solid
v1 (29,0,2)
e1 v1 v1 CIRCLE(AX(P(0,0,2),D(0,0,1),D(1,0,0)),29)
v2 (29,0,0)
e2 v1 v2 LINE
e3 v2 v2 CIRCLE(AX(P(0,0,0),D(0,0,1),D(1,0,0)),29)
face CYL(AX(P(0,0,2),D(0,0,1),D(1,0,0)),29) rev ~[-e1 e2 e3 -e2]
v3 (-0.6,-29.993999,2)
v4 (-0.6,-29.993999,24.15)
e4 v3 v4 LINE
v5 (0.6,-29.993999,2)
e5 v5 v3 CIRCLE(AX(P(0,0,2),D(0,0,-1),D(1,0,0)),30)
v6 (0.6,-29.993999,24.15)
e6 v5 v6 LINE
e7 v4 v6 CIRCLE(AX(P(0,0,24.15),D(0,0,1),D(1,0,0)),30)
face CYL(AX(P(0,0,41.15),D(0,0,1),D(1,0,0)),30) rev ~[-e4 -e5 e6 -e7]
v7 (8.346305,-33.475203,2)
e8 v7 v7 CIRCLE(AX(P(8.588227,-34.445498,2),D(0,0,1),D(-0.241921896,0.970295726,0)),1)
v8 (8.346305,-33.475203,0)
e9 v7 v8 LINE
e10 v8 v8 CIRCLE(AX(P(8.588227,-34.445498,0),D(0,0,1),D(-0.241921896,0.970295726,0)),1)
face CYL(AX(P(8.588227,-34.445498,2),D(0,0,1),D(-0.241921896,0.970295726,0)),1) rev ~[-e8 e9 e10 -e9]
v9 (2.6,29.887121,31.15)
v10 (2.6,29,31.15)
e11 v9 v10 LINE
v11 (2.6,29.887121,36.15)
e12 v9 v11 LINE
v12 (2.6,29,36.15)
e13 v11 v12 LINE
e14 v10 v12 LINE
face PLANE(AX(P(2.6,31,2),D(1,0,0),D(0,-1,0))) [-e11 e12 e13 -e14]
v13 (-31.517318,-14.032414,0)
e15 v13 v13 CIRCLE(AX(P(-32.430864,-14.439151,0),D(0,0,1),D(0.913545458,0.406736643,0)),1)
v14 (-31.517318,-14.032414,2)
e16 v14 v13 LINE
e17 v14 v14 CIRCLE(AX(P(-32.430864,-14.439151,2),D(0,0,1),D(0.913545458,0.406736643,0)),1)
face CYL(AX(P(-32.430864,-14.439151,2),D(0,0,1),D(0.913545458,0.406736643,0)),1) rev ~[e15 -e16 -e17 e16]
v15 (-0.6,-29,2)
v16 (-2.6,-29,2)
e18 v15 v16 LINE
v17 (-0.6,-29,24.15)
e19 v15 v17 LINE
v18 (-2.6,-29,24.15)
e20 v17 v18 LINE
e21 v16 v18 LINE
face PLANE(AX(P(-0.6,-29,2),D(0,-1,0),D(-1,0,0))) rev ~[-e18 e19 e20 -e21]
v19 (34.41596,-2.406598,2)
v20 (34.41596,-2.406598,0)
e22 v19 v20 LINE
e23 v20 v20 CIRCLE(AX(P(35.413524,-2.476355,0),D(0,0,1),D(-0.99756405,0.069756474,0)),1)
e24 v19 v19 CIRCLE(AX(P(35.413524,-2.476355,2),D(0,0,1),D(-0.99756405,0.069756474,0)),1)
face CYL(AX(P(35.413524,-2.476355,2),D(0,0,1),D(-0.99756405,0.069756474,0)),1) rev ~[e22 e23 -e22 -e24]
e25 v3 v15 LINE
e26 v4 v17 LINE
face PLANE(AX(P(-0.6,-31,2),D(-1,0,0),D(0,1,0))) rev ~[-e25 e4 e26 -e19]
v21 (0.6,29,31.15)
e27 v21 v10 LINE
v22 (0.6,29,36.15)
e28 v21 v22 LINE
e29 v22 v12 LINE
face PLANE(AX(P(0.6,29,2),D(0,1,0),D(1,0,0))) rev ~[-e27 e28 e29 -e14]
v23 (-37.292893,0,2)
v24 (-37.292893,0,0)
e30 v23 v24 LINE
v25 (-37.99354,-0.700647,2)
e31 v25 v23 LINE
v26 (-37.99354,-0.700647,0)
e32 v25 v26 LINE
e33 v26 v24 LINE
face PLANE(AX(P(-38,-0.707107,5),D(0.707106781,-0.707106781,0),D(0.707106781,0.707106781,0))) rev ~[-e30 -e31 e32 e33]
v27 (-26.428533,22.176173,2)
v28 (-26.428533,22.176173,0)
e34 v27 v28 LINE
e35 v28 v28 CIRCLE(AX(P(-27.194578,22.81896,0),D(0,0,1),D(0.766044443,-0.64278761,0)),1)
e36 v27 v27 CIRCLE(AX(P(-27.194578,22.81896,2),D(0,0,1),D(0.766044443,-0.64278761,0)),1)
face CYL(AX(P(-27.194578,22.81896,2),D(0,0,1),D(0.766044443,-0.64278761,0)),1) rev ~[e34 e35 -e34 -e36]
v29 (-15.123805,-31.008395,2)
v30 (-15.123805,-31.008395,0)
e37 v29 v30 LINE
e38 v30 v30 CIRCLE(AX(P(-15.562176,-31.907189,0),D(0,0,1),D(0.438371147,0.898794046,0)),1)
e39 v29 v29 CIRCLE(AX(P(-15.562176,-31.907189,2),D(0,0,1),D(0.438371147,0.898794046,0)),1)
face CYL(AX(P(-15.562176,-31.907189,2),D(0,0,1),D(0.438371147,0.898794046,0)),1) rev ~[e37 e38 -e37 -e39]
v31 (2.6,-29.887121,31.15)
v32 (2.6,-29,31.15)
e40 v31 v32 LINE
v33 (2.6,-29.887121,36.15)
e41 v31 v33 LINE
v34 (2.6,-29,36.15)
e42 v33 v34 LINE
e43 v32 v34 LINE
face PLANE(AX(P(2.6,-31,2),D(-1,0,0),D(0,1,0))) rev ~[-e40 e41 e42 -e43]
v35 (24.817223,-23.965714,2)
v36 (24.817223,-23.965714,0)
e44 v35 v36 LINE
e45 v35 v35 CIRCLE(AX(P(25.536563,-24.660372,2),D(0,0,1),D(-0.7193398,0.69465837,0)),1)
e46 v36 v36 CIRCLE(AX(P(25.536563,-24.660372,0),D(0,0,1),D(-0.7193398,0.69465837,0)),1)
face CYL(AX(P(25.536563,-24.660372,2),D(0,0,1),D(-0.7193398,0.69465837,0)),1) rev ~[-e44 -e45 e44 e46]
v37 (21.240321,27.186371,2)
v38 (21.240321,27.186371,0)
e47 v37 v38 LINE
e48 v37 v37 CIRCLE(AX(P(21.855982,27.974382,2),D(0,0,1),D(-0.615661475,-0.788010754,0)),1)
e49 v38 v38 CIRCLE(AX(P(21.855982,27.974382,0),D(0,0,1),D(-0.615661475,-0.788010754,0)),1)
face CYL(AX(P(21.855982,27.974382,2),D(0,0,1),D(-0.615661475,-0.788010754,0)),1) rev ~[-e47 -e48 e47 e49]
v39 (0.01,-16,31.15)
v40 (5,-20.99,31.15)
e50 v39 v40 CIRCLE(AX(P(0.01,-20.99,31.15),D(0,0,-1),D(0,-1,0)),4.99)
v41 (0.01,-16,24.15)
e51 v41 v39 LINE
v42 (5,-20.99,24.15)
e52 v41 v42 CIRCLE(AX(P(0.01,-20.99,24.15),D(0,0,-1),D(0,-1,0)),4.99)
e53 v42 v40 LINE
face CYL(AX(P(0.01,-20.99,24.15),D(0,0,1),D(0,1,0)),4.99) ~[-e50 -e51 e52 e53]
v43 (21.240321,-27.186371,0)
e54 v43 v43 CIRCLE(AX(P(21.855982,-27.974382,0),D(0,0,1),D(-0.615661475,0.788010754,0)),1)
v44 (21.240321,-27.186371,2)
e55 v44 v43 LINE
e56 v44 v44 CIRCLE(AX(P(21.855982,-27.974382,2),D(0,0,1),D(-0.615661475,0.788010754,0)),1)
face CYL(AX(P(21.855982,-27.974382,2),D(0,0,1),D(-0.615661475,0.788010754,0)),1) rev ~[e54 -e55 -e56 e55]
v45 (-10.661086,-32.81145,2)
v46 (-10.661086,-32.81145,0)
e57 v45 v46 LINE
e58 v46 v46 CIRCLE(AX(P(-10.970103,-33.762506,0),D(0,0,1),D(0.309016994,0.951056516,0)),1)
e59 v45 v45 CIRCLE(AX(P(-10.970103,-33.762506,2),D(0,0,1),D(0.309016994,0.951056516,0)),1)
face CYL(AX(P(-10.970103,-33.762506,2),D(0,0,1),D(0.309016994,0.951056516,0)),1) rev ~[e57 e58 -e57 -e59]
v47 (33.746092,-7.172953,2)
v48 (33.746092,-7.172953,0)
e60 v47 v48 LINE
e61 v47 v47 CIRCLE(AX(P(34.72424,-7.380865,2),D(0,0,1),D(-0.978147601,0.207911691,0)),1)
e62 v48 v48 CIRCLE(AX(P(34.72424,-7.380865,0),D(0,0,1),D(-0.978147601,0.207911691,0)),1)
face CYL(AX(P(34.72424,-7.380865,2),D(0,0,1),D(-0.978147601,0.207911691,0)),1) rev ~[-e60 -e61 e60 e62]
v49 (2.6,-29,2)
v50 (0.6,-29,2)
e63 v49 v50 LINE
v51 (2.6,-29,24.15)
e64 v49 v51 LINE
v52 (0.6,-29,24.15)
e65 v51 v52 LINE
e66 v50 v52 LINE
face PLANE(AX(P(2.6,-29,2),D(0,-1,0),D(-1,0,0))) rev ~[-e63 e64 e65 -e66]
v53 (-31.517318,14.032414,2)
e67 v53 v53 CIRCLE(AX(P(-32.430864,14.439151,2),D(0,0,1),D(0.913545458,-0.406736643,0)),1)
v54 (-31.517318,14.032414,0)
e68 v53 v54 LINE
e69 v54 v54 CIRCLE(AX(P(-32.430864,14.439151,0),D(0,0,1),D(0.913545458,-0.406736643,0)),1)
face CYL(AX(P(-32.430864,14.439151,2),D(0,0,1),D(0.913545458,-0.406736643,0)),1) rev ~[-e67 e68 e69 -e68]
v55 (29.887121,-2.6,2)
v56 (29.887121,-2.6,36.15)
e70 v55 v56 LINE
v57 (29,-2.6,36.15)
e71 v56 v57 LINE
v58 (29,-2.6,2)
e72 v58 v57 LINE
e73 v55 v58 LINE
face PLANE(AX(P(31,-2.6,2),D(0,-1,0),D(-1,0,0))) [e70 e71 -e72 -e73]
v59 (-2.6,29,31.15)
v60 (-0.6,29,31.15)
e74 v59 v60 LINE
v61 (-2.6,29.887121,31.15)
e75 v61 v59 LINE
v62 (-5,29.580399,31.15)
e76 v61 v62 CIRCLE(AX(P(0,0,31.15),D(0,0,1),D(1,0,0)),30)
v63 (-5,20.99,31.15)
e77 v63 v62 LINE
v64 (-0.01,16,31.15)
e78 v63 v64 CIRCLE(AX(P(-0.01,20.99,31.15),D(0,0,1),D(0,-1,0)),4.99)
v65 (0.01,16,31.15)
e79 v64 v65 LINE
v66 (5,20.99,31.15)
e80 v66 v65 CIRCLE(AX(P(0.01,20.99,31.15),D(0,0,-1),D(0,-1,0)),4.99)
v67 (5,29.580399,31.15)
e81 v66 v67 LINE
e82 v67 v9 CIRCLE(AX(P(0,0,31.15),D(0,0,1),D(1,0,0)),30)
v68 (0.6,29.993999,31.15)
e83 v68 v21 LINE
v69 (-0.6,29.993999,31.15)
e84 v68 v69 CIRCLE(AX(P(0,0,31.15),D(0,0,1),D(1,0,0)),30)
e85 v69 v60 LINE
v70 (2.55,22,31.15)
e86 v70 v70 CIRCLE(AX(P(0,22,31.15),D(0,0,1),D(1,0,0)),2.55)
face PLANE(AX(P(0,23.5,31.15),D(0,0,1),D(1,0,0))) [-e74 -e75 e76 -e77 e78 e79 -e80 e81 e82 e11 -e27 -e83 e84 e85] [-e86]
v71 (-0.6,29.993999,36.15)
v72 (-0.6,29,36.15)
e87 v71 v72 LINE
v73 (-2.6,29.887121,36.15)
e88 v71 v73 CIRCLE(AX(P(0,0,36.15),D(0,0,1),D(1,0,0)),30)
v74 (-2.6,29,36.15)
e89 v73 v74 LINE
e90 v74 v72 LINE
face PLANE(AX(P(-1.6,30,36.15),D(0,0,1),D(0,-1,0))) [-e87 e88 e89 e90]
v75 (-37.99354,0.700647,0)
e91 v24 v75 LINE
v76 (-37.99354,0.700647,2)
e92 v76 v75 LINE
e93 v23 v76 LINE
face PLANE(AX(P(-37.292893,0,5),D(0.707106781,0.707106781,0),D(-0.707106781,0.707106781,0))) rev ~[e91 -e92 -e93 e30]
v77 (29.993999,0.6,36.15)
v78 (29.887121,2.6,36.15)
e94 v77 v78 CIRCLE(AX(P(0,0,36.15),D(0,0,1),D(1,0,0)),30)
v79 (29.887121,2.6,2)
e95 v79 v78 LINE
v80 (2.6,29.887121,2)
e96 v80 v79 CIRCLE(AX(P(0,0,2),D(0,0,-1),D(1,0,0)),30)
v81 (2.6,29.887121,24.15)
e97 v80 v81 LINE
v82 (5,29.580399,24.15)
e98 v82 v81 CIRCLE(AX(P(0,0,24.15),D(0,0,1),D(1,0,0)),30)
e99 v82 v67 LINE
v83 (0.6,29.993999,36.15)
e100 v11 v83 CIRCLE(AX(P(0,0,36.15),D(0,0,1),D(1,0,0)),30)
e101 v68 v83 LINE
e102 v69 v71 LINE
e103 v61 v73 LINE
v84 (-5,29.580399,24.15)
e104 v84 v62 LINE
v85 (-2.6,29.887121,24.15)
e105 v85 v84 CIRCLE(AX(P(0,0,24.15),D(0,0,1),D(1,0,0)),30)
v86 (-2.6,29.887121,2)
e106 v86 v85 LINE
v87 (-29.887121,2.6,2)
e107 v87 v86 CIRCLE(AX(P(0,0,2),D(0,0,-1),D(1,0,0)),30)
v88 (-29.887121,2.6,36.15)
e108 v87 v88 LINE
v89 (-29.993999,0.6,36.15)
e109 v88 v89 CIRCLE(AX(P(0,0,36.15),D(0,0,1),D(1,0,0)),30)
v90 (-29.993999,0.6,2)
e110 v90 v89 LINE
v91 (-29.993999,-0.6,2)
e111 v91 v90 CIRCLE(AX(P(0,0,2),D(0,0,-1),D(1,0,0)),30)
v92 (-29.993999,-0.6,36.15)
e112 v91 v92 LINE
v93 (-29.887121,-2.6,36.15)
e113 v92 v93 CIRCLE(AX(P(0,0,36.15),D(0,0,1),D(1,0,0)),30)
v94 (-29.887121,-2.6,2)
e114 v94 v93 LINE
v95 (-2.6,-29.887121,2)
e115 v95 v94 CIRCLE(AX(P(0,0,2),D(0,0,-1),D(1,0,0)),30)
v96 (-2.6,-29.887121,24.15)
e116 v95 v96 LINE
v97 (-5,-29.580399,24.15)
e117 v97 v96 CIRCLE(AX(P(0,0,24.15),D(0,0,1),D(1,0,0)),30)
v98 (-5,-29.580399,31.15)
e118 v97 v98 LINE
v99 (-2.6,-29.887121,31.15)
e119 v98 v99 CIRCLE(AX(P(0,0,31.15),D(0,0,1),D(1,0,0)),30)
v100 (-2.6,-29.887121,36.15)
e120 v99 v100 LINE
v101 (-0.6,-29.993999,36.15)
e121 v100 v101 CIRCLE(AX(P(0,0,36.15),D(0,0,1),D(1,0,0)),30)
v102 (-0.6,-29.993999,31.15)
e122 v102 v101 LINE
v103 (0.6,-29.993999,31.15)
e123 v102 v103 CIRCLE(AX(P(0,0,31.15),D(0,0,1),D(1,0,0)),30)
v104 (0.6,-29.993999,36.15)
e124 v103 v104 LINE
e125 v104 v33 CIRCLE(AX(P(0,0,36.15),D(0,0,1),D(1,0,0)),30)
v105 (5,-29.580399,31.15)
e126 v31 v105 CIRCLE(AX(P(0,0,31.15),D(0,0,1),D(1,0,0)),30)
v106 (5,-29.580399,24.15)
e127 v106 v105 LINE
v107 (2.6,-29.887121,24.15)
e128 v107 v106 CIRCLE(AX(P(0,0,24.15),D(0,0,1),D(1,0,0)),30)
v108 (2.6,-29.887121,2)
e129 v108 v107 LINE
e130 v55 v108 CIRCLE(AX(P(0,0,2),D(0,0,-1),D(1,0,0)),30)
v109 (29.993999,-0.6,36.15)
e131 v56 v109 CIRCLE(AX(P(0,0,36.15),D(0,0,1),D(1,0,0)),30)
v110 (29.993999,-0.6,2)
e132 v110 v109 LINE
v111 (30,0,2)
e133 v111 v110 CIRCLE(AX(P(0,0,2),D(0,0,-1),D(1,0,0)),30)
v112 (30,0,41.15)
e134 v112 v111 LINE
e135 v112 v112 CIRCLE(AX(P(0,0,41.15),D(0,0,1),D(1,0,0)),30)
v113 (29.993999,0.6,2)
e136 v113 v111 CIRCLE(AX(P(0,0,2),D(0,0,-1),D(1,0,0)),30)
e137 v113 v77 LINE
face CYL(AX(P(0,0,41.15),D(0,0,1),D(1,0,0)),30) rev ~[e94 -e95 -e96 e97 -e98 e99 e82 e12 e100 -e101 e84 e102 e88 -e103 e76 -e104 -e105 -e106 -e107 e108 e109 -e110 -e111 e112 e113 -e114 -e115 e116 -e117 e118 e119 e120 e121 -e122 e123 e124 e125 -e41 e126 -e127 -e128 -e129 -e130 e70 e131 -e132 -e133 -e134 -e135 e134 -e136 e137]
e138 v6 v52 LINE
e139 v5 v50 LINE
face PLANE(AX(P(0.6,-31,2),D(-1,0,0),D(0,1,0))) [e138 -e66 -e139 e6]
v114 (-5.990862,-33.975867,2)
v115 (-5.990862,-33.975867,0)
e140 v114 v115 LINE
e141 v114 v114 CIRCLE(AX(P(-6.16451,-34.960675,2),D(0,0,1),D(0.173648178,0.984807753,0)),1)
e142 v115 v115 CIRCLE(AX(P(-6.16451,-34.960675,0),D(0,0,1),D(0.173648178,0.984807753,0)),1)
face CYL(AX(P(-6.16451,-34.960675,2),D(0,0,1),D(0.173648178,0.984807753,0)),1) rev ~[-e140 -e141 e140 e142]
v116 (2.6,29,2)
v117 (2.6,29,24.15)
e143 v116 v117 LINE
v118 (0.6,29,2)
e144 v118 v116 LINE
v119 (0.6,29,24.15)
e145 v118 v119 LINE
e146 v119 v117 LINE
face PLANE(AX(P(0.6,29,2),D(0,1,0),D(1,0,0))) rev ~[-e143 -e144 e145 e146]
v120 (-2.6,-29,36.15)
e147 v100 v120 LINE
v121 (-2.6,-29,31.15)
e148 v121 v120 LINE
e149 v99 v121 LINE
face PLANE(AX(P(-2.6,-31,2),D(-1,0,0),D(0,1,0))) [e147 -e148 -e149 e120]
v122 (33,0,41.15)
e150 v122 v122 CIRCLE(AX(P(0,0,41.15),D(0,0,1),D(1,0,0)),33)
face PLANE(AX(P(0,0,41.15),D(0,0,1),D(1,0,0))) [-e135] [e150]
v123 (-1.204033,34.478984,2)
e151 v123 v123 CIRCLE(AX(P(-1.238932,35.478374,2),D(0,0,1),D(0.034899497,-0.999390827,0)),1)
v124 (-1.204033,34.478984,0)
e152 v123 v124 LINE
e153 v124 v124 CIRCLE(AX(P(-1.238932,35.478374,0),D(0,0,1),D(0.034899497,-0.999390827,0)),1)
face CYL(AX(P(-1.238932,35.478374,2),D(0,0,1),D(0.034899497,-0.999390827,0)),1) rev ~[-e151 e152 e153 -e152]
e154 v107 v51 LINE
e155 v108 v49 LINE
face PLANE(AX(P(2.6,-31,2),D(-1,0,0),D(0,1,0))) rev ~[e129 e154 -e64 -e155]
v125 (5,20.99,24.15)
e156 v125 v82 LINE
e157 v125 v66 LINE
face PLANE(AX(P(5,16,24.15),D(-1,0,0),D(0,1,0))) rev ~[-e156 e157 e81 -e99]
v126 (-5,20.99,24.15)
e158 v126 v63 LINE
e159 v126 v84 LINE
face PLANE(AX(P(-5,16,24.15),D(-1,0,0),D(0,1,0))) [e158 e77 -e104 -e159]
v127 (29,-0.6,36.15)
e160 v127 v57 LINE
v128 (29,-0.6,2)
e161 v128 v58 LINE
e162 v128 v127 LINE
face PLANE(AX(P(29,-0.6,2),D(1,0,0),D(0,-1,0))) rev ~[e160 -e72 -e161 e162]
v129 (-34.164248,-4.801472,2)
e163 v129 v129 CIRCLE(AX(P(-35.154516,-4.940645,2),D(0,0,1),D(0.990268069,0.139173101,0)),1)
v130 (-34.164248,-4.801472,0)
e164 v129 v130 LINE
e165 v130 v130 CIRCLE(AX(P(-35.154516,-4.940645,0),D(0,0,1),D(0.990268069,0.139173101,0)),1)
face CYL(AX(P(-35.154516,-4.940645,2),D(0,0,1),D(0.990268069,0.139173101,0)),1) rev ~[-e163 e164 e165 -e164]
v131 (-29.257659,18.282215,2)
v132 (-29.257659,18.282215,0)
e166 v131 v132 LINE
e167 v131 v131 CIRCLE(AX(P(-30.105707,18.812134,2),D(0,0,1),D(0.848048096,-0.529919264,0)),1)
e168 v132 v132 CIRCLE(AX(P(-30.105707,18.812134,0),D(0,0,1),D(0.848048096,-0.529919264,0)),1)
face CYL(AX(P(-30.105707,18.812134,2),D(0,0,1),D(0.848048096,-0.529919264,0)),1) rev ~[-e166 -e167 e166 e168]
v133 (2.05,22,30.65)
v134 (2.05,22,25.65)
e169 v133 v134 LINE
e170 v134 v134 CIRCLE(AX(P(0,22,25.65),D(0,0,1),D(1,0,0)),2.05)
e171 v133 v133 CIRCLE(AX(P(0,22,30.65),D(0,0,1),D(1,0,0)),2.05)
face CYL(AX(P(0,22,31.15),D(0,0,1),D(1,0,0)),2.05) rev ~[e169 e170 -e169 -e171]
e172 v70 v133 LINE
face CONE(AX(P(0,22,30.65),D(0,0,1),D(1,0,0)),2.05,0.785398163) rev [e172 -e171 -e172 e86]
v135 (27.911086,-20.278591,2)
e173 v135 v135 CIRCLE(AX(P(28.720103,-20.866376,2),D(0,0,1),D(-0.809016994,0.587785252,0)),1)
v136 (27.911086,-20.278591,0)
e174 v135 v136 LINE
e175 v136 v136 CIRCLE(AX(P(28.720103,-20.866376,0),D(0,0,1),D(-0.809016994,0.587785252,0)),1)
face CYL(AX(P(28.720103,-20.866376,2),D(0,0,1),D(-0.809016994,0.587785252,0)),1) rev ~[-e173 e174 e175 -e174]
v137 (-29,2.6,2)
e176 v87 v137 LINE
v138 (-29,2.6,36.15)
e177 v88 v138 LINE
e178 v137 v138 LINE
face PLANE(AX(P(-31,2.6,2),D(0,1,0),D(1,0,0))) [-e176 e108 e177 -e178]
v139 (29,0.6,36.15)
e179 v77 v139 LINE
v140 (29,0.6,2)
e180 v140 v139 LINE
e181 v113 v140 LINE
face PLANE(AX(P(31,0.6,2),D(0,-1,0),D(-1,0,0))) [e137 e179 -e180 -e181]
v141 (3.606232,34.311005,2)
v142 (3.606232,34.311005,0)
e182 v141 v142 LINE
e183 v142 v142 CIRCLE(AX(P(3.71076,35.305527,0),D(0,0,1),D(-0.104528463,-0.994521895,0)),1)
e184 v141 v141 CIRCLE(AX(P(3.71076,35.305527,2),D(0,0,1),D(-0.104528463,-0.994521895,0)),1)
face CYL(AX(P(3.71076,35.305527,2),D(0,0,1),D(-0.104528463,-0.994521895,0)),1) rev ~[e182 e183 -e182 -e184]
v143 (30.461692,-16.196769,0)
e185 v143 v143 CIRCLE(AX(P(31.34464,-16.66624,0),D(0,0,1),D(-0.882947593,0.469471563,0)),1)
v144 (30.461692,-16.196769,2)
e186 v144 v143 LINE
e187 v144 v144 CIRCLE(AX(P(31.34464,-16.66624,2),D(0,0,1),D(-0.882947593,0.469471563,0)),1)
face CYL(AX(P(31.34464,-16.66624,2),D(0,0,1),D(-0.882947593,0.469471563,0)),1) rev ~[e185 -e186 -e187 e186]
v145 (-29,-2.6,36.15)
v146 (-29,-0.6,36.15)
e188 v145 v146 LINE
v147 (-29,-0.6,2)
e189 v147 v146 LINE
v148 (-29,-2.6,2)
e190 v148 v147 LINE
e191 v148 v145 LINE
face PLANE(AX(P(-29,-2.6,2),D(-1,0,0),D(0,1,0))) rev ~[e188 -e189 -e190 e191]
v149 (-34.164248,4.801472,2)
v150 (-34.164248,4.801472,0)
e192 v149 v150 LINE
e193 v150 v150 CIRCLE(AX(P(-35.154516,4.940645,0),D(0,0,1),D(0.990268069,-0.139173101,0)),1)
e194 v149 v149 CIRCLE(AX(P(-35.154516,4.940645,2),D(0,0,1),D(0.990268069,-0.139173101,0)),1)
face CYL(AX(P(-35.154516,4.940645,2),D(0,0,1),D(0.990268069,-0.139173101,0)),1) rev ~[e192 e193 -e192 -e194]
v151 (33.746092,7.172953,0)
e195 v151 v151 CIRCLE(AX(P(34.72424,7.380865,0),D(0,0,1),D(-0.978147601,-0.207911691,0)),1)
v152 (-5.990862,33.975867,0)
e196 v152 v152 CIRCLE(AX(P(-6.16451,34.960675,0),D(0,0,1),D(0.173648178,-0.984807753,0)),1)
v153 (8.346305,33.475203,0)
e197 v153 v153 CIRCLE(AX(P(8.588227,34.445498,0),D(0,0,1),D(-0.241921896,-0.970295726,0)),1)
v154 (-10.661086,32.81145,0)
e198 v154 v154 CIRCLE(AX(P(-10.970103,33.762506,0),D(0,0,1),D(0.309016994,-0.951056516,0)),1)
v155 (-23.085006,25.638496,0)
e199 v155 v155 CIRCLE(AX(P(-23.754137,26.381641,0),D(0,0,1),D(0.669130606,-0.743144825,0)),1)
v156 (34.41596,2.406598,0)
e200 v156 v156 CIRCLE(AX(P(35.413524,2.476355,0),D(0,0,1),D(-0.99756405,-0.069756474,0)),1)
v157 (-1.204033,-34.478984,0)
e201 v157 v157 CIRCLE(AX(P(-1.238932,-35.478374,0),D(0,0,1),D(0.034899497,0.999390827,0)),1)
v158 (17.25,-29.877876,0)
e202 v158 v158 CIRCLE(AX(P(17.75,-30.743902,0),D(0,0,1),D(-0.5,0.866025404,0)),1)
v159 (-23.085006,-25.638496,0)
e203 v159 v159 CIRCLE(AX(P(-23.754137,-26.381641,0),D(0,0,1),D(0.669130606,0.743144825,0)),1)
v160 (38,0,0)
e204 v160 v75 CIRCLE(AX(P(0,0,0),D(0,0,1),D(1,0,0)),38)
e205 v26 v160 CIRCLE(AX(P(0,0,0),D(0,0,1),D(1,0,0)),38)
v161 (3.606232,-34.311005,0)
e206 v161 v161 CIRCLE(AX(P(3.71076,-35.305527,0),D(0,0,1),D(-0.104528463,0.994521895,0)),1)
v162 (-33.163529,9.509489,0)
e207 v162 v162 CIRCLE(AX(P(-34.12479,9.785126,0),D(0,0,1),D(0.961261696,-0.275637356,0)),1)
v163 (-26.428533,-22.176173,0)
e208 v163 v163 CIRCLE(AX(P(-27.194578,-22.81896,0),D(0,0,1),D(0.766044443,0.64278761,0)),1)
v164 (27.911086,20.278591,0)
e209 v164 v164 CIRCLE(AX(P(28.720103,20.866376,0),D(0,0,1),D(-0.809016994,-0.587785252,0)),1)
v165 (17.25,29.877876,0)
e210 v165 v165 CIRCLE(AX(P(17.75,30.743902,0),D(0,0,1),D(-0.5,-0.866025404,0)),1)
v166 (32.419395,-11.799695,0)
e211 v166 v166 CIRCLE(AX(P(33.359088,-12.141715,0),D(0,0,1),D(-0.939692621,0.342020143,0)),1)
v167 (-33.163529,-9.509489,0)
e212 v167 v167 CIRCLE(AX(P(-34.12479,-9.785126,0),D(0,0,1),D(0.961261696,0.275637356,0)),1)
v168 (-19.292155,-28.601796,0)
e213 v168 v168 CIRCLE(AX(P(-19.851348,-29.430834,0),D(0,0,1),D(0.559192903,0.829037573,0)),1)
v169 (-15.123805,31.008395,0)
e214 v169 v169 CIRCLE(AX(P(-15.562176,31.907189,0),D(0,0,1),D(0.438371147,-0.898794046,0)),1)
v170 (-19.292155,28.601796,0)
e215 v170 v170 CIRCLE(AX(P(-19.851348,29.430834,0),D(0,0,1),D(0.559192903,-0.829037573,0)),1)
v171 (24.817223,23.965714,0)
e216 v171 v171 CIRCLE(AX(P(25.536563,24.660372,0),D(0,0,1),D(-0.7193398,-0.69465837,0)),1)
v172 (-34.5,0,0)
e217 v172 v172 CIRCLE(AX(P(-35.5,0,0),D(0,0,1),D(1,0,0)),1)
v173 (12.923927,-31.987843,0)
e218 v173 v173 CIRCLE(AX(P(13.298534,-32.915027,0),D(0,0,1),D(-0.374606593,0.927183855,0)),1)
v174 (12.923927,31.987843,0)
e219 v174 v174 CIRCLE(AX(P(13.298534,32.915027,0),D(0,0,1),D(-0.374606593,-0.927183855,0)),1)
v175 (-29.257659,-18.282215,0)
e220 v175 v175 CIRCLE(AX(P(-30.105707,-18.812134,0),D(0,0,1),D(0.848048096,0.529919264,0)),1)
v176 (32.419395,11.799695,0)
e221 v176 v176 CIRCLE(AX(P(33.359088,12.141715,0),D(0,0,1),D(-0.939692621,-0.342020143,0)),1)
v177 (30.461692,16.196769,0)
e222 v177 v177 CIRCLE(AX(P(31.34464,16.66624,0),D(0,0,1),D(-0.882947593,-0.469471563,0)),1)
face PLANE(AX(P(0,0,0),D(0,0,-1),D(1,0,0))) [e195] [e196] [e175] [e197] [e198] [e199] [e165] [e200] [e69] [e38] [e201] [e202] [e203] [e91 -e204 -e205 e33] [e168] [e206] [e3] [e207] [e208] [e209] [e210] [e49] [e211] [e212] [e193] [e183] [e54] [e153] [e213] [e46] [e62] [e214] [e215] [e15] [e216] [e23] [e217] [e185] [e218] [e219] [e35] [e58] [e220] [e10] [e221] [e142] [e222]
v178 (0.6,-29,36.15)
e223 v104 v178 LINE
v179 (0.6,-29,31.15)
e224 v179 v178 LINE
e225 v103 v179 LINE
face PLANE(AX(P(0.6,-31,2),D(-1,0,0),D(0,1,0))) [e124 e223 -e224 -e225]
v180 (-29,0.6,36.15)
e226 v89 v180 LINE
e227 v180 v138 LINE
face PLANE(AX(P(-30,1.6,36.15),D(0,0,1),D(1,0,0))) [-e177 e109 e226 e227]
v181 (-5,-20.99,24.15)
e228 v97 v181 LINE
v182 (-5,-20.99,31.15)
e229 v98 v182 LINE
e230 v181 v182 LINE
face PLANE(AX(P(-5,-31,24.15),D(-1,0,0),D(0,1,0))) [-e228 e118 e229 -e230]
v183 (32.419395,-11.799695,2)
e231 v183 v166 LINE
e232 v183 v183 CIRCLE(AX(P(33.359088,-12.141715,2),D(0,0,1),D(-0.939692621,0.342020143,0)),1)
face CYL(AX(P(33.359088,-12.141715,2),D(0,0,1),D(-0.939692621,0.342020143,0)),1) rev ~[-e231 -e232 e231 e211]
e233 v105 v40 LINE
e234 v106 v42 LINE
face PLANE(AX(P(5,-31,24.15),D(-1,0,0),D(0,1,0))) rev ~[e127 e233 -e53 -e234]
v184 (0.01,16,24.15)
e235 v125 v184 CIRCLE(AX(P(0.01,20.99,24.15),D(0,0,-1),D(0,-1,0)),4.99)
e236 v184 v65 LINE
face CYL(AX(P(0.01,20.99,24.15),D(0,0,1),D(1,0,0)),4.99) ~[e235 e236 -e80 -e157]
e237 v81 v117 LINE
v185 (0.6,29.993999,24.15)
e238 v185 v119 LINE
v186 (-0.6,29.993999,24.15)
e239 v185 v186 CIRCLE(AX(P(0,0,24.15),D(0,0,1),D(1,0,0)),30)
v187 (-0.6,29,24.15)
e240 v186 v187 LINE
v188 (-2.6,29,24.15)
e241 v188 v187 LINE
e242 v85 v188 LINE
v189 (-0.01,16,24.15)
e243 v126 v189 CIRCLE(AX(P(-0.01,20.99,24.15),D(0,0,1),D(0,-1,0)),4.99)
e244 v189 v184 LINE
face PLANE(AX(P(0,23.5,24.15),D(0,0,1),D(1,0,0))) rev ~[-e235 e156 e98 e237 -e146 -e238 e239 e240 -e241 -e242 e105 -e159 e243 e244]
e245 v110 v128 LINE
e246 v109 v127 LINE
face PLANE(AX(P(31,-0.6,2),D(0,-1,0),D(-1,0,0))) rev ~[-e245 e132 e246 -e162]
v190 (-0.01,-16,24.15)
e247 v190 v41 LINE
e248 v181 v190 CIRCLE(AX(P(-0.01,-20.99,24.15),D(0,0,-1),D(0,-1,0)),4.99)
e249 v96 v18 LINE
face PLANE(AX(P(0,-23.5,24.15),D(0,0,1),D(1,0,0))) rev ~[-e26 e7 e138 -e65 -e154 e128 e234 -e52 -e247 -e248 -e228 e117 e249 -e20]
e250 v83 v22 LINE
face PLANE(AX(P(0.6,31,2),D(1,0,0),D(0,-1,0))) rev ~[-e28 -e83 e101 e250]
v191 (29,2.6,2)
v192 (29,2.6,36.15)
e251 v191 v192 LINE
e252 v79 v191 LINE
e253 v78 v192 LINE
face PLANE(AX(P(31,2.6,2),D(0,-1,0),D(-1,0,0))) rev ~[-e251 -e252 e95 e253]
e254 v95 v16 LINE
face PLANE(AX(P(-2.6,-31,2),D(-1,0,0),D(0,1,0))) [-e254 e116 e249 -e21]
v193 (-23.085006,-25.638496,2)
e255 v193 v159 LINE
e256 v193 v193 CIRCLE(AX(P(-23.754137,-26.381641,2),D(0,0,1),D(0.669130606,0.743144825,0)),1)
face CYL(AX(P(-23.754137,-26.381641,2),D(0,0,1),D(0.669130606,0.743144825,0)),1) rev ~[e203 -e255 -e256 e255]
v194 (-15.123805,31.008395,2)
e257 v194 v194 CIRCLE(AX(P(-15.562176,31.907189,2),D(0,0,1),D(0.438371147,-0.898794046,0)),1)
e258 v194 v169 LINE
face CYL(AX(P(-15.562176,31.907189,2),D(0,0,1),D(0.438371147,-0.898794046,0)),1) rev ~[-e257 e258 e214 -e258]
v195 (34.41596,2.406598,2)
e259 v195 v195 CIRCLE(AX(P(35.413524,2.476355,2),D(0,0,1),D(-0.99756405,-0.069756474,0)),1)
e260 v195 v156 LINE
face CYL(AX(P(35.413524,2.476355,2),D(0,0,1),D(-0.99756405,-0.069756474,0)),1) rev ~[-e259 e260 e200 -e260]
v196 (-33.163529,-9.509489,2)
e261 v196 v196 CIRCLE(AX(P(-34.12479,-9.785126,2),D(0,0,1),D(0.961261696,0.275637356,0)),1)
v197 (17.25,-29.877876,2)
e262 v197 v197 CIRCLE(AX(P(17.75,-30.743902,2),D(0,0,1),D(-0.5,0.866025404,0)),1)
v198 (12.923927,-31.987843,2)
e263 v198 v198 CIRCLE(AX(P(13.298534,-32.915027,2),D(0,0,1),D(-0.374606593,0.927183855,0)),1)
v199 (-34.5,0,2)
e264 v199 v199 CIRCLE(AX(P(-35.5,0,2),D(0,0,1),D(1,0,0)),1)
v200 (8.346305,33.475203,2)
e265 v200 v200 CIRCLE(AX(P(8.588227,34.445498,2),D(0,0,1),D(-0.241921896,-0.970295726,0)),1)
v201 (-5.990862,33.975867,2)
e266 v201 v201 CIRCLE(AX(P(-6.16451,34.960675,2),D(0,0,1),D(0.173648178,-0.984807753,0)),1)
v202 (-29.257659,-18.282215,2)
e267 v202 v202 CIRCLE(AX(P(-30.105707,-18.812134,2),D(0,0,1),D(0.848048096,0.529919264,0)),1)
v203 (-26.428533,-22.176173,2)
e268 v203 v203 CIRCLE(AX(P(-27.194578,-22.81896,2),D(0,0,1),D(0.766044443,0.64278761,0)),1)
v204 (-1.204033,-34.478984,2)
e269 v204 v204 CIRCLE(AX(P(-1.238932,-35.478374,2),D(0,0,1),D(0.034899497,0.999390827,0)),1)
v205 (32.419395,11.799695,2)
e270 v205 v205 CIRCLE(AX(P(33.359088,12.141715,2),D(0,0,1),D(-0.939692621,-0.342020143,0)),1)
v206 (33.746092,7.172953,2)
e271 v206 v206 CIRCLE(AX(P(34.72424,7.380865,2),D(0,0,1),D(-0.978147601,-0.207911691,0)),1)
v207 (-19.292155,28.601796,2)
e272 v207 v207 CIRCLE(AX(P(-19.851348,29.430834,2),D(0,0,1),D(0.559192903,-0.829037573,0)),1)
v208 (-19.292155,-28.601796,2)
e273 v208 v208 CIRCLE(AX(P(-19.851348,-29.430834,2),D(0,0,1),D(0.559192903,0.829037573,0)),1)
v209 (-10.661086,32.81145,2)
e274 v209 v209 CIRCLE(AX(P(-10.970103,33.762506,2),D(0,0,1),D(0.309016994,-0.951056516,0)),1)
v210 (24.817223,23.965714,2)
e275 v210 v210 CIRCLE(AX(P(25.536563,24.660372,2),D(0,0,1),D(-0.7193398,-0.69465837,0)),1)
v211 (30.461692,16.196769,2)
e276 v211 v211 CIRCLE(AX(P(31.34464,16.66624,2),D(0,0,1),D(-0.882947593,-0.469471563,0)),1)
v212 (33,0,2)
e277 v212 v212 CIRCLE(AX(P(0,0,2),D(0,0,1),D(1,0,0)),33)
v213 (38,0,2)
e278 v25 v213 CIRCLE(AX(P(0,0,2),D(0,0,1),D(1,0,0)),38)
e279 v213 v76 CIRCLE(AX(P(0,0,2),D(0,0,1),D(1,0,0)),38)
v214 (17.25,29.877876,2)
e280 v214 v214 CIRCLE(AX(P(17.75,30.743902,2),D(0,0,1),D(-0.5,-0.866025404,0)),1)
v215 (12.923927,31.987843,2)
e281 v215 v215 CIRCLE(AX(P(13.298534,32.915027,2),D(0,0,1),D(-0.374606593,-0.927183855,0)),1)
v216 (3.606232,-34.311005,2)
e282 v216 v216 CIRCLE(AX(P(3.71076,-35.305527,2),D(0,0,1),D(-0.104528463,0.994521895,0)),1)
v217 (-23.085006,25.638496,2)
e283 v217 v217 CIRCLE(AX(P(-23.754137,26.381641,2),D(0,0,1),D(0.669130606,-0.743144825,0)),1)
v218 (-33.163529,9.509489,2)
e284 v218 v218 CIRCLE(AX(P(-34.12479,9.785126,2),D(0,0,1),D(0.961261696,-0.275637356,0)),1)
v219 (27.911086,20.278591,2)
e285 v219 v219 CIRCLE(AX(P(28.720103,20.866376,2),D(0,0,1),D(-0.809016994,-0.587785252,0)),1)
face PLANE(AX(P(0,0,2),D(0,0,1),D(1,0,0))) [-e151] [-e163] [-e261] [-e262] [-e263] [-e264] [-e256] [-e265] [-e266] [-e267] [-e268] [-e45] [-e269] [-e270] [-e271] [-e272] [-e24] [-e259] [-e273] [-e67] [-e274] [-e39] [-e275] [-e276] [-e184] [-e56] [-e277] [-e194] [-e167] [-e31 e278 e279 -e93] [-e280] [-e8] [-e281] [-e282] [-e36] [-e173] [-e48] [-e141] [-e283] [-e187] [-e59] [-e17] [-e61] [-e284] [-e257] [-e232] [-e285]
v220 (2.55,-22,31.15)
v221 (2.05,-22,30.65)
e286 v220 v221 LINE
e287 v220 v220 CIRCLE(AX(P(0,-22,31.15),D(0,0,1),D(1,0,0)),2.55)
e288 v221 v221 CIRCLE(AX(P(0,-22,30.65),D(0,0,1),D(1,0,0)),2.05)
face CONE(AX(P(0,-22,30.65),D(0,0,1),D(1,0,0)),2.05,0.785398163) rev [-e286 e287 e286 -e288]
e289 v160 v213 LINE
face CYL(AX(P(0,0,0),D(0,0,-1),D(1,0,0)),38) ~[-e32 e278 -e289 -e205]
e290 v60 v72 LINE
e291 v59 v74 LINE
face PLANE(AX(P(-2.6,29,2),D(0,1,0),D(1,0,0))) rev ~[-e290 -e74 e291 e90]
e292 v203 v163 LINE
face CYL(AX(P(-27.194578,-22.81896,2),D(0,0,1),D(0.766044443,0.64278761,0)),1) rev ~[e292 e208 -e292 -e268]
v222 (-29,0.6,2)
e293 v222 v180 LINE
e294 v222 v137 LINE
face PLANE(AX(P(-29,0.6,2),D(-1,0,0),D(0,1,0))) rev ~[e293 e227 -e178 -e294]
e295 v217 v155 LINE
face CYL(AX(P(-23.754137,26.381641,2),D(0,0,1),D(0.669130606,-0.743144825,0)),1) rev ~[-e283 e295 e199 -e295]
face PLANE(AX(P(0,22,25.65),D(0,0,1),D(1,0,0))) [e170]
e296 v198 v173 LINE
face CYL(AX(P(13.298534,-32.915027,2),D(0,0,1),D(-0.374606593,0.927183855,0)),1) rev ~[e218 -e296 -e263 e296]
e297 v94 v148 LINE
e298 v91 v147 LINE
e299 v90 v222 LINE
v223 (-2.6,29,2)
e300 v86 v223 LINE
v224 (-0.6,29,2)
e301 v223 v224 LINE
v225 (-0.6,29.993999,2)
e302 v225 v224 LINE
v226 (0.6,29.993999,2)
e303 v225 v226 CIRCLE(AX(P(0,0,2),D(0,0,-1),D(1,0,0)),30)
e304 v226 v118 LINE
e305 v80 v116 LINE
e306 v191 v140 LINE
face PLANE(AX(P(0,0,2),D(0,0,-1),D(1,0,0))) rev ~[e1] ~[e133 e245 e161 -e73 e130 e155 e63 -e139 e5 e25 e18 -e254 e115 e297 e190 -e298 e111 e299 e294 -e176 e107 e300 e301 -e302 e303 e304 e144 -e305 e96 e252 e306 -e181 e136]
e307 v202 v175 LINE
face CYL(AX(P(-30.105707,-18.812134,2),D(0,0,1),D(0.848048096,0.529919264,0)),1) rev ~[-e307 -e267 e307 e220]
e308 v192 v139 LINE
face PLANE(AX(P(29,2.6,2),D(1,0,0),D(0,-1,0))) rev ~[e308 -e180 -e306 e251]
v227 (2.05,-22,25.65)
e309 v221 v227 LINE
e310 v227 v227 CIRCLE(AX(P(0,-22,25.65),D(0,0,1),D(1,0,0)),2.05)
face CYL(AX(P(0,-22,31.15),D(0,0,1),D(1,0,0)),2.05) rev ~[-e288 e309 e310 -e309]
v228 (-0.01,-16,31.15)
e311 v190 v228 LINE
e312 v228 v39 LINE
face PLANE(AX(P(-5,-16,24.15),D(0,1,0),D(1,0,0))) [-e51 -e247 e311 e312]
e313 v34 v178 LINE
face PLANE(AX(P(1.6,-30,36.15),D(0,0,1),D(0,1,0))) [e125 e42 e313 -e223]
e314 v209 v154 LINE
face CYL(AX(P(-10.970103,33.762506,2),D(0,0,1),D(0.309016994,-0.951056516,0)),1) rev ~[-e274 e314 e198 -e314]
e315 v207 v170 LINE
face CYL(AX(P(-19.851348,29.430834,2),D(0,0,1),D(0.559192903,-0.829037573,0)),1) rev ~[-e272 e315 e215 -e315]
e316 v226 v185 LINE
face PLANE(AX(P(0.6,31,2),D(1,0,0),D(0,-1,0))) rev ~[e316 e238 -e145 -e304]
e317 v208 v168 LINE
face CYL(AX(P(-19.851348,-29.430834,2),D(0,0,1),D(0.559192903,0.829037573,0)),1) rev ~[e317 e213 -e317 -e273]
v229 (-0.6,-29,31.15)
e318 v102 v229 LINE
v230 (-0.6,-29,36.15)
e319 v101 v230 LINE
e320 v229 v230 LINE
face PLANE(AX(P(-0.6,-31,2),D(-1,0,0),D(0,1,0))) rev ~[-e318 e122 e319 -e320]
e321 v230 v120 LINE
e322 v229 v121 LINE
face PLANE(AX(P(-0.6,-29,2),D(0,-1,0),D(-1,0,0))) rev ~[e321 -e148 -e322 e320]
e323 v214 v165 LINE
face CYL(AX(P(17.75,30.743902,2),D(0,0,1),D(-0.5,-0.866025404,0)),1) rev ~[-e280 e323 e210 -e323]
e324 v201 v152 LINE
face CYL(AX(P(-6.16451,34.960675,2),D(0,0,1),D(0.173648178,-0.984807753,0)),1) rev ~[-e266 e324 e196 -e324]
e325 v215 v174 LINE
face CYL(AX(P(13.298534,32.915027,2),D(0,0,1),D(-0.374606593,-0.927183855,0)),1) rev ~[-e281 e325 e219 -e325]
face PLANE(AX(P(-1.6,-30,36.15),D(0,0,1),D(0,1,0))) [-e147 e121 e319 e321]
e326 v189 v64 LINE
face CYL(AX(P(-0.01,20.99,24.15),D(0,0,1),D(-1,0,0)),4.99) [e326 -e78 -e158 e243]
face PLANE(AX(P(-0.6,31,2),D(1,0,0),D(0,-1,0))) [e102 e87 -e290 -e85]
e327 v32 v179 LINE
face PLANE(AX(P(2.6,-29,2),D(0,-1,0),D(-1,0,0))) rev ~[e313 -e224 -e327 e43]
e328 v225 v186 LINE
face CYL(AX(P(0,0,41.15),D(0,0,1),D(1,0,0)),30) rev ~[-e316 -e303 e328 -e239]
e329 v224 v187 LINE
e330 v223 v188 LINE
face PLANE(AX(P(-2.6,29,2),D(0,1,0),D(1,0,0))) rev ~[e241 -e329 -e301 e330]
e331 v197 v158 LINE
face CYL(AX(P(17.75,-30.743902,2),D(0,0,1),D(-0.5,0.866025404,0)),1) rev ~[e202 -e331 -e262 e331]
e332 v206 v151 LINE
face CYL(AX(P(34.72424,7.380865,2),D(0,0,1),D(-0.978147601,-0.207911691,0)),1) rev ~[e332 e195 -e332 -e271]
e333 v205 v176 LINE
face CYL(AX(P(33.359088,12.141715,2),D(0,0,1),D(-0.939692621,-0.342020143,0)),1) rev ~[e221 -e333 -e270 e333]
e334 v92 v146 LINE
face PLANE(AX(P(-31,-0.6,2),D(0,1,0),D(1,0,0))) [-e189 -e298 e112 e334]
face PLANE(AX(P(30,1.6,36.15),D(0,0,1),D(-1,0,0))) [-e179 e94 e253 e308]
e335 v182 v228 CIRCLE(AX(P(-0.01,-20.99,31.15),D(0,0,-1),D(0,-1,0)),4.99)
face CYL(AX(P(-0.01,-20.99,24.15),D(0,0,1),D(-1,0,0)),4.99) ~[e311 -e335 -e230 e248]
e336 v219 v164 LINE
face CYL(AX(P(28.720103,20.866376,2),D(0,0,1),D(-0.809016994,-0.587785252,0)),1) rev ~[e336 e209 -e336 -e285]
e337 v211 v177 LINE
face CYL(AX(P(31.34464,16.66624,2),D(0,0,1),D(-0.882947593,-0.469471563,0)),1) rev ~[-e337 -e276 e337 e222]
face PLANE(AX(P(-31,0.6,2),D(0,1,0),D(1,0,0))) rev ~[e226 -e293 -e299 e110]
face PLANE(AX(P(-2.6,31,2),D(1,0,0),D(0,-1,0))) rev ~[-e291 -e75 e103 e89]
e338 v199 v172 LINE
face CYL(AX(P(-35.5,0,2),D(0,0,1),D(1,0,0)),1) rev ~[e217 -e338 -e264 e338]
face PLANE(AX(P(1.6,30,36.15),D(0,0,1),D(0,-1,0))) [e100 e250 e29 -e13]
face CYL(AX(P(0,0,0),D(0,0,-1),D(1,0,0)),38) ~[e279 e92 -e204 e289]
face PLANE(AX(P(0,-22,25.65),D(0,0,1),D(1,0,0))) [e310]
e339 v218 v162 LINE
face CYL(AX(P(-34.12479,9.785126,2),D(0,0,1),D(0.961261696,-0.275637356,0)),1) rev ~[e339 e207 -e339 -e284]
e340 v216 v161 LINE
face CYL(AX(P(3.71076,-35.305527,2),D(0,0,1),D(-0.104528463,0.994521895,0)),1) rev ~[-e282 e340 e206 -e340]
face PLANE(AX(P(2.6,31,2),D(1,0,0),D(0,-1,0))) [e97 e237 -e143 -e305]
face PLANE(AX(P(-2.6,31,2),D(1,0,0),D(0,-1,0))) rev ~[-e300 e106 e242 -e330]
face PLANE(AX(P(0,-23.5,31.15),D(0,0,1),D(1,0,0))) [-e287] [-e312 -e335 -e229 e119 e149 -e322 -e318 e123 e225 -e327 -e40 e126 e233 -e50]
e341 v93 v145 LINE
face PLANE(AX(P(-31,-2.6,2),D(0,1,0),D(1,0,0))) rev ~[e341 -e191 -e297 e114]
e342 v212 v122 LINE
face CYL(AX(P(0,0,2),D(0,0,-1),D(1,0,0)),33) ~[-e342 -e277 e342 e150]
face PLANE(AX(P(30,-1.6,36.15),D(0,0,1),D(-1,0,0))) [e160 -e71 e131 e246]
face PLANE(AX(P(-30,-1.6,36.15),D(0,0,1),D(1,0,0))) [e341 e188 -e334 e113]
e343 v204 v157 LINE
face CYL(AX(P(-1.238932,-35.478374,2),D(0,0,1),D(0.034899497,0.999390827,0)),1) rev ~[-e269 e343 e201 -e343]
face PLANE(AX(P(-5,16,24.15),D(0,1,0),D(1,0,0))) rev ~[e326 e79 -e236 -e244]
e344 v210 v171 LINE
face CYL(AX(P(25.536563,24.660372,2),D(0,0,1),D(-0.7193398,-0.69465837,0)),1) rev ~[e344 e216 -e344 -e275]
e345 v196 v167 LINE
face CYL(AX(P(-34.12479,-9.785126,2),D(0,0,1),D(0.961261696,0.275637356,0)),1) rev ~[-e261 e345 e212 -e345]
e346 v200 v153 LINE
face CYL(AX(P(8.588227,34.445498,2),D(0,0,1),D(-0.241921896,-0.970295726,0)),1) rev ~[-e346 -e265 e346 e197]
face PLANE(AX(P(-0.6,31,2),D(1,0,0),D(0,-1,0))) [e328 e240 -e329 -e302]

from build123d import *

# Parameters (mm, degrees)
SKETCH_R              = 38
PAD_DEPTH             = 2
SKETCH001_R           = 33
PAD001_DEPTH          = 39.15
SKETCH002_R           = 30
POCKET_DEPTH          = 41.151
SKETCH010_R           = 1
POCKET005_DEPTH       = 5
POLARPATTERN002_COUNT = 45
SKETCH011_R           = 30
PAD005_DEPTH          = 2
SKETCH012_R           = 29
POCKET006_DEPTH       = 2.001
SKETCH013_W           = 2
SKETCH013_H           = 2
PAD006_DEPTH          = 34.15
POLARPATTERN003_COUNT = 4
POCKET008_DEPTH       = 5
SKETCH022_W           = 10
SKETCH022_H           = 15
PAD008_DEPTH          = 7
SKETCH039_R           = 2.05
POCKET025_DEPTH       = 5.5
CHAMFER014_SIZE       = 0.5
FILLET008_R           = 4.99


with BuildPart() as part:
    # Sketch → Pad (new body)
    with BuildSketch(Plane.XY):
        Circle(SKETCH_R)
    extrude(amount=PAD_DEPTH)

    # Sketch001 (on Face3 of Pad) → Pad001 (join)
    with BuildSketch(Plane.XY.offset(2)):
        Circle(SKETCH001_R)
    extrude(amount=PAD001_DEPTH)

    # Sketch002 (on Face5 of Pad001) → Pocket (cut, through all)
    with BuildSketch(Plane.XY.offset(41.15)):
        Circle(SKETCH002_R)
    extrude(amount=-POCKET_DEPTH, mode=Mode.SUBTRACT)

    # Sketch010 (on Face3 of Pocket) → Pocket005 (cut)
    with BuildSketch(Plane.XY.offset(2)):
        with Locations((-35.5, 0)):
            Circle(SKETCH010_R)
    pocket005 = extrude(amount=-POCKET005_DEPTH, mode=Mode.SUBTRACT)

    # PolarPattern002: Pocket005 ×45 about axis
    polarpattern002_axis = Axis((0, 0, 2), (0, 0, 1))
    for i in range(1, POLARPATTERN002_COUNT):
        add(pocket005.rotate(polarpattern002_axis, i * 360 / POLARPATTERN002_COUNT), mode=Mode.SUBTRACT)

    # Sketch011 (on Face2 of PolarPattern002) → Pad005 (join)
    with BuildSketch(Plane(origin=(0, 0, 0), x_dir=(1, 0, 0), z_dir=(0, 0, -1))):
        Circle(SKETCH011_R)
    extrude(amount=-PAD005_DEPTH)

    # Sketch012 (on Face51 of Pad005) → Pocket006 (cut, through all)
    with BuildSketch(Plane.XY.offset(2)):
        Circle(SKETCH012_R)
    extrude(amount=-POCKET006_DEPTH, mode=Mode.SUBTRACT)

    # Sketch013 (on Face51 of Pocket006) → Pad006 (join)
    with BuildSketch(Plane.XY.offset(2)):
        with Locations((-30, 1.6)):
            Rectangle(SKETCH013_W, SKETCH013_H)
        with Locations((-30, -1.6)):
            Rectangle(SKETCH013_W, SKETCH013_H)
    pad006 = extrude(amount=PAD006_DEPTH)

    # PolarPattern003: Pad006 ×4 about axis
    polarpattern003_axis = Axis((0, 0, 2), (0, 0, 1))
    for i in range(1, POLARPATTERN003_COUNT):
        add(pad006.rotate(polarpattern003_axis, i * 360 / POLARPATTERN003_COUNT))

    # Sketch015 → Pocket008 (cut)
    with BuildSketch(Plane.XY.offset(5)):
        Polygon((-38, 0.707107), (-38.707107, 0), (-38, -0.707107), (-37.292893, 0), align=None)
    extrude(amount=-POCKET008_DEPTH, mode=Mode.SUBTRACT)

    # Sketch022 (on DatumPlane) → Pad008 (join)
    with BuildSketch(Plane.XY.offset(24.15)):
        with Locations((0, -23.5)):
            Rectangle(SKETCH022_W, SKETCH022_H)
        with Locations((0, 23.5)):
            Rectangle(SKETCH022_W, SKETCH022_H)
    extrude(amount=PAD008_DEPTH)

    # Sketch039 (on Face85 of Pad008) → Pocket025 (cut)
    with BuildSketch(Plane.XY.offset(31.15)):
        with Locations((0, 22)):
            Circle(SKETCH039_R)
        with Locations((0, -22)):
            Circle(SKETCH039_R)
    extrude(amount=-POCKET025_DEPTH, mode=Mode.SUBTRACT)

    # Chamfer014
    chamfer014_edges = [part.edges().sort_by_distance(p)[0] for p in [
        (-2.05, -22, 31.15),
        (-2.05, 22, 31.15),
    ]]
    chamfer(chamfer014_edges, length=CHAMFER014_SIZE)

    # Fillet008
    fillet008_edges = [part.edges().sort_by_distance(p)[0] for p in [
        (5, -16, 27.65),
        (-5, -16, 27.65),
        (5, 16, 27.65),
        (-5, 16, 27.65),
    ]]
    fillet(fillet008_edges, radius=FILLET008_R)


solid = part.part
